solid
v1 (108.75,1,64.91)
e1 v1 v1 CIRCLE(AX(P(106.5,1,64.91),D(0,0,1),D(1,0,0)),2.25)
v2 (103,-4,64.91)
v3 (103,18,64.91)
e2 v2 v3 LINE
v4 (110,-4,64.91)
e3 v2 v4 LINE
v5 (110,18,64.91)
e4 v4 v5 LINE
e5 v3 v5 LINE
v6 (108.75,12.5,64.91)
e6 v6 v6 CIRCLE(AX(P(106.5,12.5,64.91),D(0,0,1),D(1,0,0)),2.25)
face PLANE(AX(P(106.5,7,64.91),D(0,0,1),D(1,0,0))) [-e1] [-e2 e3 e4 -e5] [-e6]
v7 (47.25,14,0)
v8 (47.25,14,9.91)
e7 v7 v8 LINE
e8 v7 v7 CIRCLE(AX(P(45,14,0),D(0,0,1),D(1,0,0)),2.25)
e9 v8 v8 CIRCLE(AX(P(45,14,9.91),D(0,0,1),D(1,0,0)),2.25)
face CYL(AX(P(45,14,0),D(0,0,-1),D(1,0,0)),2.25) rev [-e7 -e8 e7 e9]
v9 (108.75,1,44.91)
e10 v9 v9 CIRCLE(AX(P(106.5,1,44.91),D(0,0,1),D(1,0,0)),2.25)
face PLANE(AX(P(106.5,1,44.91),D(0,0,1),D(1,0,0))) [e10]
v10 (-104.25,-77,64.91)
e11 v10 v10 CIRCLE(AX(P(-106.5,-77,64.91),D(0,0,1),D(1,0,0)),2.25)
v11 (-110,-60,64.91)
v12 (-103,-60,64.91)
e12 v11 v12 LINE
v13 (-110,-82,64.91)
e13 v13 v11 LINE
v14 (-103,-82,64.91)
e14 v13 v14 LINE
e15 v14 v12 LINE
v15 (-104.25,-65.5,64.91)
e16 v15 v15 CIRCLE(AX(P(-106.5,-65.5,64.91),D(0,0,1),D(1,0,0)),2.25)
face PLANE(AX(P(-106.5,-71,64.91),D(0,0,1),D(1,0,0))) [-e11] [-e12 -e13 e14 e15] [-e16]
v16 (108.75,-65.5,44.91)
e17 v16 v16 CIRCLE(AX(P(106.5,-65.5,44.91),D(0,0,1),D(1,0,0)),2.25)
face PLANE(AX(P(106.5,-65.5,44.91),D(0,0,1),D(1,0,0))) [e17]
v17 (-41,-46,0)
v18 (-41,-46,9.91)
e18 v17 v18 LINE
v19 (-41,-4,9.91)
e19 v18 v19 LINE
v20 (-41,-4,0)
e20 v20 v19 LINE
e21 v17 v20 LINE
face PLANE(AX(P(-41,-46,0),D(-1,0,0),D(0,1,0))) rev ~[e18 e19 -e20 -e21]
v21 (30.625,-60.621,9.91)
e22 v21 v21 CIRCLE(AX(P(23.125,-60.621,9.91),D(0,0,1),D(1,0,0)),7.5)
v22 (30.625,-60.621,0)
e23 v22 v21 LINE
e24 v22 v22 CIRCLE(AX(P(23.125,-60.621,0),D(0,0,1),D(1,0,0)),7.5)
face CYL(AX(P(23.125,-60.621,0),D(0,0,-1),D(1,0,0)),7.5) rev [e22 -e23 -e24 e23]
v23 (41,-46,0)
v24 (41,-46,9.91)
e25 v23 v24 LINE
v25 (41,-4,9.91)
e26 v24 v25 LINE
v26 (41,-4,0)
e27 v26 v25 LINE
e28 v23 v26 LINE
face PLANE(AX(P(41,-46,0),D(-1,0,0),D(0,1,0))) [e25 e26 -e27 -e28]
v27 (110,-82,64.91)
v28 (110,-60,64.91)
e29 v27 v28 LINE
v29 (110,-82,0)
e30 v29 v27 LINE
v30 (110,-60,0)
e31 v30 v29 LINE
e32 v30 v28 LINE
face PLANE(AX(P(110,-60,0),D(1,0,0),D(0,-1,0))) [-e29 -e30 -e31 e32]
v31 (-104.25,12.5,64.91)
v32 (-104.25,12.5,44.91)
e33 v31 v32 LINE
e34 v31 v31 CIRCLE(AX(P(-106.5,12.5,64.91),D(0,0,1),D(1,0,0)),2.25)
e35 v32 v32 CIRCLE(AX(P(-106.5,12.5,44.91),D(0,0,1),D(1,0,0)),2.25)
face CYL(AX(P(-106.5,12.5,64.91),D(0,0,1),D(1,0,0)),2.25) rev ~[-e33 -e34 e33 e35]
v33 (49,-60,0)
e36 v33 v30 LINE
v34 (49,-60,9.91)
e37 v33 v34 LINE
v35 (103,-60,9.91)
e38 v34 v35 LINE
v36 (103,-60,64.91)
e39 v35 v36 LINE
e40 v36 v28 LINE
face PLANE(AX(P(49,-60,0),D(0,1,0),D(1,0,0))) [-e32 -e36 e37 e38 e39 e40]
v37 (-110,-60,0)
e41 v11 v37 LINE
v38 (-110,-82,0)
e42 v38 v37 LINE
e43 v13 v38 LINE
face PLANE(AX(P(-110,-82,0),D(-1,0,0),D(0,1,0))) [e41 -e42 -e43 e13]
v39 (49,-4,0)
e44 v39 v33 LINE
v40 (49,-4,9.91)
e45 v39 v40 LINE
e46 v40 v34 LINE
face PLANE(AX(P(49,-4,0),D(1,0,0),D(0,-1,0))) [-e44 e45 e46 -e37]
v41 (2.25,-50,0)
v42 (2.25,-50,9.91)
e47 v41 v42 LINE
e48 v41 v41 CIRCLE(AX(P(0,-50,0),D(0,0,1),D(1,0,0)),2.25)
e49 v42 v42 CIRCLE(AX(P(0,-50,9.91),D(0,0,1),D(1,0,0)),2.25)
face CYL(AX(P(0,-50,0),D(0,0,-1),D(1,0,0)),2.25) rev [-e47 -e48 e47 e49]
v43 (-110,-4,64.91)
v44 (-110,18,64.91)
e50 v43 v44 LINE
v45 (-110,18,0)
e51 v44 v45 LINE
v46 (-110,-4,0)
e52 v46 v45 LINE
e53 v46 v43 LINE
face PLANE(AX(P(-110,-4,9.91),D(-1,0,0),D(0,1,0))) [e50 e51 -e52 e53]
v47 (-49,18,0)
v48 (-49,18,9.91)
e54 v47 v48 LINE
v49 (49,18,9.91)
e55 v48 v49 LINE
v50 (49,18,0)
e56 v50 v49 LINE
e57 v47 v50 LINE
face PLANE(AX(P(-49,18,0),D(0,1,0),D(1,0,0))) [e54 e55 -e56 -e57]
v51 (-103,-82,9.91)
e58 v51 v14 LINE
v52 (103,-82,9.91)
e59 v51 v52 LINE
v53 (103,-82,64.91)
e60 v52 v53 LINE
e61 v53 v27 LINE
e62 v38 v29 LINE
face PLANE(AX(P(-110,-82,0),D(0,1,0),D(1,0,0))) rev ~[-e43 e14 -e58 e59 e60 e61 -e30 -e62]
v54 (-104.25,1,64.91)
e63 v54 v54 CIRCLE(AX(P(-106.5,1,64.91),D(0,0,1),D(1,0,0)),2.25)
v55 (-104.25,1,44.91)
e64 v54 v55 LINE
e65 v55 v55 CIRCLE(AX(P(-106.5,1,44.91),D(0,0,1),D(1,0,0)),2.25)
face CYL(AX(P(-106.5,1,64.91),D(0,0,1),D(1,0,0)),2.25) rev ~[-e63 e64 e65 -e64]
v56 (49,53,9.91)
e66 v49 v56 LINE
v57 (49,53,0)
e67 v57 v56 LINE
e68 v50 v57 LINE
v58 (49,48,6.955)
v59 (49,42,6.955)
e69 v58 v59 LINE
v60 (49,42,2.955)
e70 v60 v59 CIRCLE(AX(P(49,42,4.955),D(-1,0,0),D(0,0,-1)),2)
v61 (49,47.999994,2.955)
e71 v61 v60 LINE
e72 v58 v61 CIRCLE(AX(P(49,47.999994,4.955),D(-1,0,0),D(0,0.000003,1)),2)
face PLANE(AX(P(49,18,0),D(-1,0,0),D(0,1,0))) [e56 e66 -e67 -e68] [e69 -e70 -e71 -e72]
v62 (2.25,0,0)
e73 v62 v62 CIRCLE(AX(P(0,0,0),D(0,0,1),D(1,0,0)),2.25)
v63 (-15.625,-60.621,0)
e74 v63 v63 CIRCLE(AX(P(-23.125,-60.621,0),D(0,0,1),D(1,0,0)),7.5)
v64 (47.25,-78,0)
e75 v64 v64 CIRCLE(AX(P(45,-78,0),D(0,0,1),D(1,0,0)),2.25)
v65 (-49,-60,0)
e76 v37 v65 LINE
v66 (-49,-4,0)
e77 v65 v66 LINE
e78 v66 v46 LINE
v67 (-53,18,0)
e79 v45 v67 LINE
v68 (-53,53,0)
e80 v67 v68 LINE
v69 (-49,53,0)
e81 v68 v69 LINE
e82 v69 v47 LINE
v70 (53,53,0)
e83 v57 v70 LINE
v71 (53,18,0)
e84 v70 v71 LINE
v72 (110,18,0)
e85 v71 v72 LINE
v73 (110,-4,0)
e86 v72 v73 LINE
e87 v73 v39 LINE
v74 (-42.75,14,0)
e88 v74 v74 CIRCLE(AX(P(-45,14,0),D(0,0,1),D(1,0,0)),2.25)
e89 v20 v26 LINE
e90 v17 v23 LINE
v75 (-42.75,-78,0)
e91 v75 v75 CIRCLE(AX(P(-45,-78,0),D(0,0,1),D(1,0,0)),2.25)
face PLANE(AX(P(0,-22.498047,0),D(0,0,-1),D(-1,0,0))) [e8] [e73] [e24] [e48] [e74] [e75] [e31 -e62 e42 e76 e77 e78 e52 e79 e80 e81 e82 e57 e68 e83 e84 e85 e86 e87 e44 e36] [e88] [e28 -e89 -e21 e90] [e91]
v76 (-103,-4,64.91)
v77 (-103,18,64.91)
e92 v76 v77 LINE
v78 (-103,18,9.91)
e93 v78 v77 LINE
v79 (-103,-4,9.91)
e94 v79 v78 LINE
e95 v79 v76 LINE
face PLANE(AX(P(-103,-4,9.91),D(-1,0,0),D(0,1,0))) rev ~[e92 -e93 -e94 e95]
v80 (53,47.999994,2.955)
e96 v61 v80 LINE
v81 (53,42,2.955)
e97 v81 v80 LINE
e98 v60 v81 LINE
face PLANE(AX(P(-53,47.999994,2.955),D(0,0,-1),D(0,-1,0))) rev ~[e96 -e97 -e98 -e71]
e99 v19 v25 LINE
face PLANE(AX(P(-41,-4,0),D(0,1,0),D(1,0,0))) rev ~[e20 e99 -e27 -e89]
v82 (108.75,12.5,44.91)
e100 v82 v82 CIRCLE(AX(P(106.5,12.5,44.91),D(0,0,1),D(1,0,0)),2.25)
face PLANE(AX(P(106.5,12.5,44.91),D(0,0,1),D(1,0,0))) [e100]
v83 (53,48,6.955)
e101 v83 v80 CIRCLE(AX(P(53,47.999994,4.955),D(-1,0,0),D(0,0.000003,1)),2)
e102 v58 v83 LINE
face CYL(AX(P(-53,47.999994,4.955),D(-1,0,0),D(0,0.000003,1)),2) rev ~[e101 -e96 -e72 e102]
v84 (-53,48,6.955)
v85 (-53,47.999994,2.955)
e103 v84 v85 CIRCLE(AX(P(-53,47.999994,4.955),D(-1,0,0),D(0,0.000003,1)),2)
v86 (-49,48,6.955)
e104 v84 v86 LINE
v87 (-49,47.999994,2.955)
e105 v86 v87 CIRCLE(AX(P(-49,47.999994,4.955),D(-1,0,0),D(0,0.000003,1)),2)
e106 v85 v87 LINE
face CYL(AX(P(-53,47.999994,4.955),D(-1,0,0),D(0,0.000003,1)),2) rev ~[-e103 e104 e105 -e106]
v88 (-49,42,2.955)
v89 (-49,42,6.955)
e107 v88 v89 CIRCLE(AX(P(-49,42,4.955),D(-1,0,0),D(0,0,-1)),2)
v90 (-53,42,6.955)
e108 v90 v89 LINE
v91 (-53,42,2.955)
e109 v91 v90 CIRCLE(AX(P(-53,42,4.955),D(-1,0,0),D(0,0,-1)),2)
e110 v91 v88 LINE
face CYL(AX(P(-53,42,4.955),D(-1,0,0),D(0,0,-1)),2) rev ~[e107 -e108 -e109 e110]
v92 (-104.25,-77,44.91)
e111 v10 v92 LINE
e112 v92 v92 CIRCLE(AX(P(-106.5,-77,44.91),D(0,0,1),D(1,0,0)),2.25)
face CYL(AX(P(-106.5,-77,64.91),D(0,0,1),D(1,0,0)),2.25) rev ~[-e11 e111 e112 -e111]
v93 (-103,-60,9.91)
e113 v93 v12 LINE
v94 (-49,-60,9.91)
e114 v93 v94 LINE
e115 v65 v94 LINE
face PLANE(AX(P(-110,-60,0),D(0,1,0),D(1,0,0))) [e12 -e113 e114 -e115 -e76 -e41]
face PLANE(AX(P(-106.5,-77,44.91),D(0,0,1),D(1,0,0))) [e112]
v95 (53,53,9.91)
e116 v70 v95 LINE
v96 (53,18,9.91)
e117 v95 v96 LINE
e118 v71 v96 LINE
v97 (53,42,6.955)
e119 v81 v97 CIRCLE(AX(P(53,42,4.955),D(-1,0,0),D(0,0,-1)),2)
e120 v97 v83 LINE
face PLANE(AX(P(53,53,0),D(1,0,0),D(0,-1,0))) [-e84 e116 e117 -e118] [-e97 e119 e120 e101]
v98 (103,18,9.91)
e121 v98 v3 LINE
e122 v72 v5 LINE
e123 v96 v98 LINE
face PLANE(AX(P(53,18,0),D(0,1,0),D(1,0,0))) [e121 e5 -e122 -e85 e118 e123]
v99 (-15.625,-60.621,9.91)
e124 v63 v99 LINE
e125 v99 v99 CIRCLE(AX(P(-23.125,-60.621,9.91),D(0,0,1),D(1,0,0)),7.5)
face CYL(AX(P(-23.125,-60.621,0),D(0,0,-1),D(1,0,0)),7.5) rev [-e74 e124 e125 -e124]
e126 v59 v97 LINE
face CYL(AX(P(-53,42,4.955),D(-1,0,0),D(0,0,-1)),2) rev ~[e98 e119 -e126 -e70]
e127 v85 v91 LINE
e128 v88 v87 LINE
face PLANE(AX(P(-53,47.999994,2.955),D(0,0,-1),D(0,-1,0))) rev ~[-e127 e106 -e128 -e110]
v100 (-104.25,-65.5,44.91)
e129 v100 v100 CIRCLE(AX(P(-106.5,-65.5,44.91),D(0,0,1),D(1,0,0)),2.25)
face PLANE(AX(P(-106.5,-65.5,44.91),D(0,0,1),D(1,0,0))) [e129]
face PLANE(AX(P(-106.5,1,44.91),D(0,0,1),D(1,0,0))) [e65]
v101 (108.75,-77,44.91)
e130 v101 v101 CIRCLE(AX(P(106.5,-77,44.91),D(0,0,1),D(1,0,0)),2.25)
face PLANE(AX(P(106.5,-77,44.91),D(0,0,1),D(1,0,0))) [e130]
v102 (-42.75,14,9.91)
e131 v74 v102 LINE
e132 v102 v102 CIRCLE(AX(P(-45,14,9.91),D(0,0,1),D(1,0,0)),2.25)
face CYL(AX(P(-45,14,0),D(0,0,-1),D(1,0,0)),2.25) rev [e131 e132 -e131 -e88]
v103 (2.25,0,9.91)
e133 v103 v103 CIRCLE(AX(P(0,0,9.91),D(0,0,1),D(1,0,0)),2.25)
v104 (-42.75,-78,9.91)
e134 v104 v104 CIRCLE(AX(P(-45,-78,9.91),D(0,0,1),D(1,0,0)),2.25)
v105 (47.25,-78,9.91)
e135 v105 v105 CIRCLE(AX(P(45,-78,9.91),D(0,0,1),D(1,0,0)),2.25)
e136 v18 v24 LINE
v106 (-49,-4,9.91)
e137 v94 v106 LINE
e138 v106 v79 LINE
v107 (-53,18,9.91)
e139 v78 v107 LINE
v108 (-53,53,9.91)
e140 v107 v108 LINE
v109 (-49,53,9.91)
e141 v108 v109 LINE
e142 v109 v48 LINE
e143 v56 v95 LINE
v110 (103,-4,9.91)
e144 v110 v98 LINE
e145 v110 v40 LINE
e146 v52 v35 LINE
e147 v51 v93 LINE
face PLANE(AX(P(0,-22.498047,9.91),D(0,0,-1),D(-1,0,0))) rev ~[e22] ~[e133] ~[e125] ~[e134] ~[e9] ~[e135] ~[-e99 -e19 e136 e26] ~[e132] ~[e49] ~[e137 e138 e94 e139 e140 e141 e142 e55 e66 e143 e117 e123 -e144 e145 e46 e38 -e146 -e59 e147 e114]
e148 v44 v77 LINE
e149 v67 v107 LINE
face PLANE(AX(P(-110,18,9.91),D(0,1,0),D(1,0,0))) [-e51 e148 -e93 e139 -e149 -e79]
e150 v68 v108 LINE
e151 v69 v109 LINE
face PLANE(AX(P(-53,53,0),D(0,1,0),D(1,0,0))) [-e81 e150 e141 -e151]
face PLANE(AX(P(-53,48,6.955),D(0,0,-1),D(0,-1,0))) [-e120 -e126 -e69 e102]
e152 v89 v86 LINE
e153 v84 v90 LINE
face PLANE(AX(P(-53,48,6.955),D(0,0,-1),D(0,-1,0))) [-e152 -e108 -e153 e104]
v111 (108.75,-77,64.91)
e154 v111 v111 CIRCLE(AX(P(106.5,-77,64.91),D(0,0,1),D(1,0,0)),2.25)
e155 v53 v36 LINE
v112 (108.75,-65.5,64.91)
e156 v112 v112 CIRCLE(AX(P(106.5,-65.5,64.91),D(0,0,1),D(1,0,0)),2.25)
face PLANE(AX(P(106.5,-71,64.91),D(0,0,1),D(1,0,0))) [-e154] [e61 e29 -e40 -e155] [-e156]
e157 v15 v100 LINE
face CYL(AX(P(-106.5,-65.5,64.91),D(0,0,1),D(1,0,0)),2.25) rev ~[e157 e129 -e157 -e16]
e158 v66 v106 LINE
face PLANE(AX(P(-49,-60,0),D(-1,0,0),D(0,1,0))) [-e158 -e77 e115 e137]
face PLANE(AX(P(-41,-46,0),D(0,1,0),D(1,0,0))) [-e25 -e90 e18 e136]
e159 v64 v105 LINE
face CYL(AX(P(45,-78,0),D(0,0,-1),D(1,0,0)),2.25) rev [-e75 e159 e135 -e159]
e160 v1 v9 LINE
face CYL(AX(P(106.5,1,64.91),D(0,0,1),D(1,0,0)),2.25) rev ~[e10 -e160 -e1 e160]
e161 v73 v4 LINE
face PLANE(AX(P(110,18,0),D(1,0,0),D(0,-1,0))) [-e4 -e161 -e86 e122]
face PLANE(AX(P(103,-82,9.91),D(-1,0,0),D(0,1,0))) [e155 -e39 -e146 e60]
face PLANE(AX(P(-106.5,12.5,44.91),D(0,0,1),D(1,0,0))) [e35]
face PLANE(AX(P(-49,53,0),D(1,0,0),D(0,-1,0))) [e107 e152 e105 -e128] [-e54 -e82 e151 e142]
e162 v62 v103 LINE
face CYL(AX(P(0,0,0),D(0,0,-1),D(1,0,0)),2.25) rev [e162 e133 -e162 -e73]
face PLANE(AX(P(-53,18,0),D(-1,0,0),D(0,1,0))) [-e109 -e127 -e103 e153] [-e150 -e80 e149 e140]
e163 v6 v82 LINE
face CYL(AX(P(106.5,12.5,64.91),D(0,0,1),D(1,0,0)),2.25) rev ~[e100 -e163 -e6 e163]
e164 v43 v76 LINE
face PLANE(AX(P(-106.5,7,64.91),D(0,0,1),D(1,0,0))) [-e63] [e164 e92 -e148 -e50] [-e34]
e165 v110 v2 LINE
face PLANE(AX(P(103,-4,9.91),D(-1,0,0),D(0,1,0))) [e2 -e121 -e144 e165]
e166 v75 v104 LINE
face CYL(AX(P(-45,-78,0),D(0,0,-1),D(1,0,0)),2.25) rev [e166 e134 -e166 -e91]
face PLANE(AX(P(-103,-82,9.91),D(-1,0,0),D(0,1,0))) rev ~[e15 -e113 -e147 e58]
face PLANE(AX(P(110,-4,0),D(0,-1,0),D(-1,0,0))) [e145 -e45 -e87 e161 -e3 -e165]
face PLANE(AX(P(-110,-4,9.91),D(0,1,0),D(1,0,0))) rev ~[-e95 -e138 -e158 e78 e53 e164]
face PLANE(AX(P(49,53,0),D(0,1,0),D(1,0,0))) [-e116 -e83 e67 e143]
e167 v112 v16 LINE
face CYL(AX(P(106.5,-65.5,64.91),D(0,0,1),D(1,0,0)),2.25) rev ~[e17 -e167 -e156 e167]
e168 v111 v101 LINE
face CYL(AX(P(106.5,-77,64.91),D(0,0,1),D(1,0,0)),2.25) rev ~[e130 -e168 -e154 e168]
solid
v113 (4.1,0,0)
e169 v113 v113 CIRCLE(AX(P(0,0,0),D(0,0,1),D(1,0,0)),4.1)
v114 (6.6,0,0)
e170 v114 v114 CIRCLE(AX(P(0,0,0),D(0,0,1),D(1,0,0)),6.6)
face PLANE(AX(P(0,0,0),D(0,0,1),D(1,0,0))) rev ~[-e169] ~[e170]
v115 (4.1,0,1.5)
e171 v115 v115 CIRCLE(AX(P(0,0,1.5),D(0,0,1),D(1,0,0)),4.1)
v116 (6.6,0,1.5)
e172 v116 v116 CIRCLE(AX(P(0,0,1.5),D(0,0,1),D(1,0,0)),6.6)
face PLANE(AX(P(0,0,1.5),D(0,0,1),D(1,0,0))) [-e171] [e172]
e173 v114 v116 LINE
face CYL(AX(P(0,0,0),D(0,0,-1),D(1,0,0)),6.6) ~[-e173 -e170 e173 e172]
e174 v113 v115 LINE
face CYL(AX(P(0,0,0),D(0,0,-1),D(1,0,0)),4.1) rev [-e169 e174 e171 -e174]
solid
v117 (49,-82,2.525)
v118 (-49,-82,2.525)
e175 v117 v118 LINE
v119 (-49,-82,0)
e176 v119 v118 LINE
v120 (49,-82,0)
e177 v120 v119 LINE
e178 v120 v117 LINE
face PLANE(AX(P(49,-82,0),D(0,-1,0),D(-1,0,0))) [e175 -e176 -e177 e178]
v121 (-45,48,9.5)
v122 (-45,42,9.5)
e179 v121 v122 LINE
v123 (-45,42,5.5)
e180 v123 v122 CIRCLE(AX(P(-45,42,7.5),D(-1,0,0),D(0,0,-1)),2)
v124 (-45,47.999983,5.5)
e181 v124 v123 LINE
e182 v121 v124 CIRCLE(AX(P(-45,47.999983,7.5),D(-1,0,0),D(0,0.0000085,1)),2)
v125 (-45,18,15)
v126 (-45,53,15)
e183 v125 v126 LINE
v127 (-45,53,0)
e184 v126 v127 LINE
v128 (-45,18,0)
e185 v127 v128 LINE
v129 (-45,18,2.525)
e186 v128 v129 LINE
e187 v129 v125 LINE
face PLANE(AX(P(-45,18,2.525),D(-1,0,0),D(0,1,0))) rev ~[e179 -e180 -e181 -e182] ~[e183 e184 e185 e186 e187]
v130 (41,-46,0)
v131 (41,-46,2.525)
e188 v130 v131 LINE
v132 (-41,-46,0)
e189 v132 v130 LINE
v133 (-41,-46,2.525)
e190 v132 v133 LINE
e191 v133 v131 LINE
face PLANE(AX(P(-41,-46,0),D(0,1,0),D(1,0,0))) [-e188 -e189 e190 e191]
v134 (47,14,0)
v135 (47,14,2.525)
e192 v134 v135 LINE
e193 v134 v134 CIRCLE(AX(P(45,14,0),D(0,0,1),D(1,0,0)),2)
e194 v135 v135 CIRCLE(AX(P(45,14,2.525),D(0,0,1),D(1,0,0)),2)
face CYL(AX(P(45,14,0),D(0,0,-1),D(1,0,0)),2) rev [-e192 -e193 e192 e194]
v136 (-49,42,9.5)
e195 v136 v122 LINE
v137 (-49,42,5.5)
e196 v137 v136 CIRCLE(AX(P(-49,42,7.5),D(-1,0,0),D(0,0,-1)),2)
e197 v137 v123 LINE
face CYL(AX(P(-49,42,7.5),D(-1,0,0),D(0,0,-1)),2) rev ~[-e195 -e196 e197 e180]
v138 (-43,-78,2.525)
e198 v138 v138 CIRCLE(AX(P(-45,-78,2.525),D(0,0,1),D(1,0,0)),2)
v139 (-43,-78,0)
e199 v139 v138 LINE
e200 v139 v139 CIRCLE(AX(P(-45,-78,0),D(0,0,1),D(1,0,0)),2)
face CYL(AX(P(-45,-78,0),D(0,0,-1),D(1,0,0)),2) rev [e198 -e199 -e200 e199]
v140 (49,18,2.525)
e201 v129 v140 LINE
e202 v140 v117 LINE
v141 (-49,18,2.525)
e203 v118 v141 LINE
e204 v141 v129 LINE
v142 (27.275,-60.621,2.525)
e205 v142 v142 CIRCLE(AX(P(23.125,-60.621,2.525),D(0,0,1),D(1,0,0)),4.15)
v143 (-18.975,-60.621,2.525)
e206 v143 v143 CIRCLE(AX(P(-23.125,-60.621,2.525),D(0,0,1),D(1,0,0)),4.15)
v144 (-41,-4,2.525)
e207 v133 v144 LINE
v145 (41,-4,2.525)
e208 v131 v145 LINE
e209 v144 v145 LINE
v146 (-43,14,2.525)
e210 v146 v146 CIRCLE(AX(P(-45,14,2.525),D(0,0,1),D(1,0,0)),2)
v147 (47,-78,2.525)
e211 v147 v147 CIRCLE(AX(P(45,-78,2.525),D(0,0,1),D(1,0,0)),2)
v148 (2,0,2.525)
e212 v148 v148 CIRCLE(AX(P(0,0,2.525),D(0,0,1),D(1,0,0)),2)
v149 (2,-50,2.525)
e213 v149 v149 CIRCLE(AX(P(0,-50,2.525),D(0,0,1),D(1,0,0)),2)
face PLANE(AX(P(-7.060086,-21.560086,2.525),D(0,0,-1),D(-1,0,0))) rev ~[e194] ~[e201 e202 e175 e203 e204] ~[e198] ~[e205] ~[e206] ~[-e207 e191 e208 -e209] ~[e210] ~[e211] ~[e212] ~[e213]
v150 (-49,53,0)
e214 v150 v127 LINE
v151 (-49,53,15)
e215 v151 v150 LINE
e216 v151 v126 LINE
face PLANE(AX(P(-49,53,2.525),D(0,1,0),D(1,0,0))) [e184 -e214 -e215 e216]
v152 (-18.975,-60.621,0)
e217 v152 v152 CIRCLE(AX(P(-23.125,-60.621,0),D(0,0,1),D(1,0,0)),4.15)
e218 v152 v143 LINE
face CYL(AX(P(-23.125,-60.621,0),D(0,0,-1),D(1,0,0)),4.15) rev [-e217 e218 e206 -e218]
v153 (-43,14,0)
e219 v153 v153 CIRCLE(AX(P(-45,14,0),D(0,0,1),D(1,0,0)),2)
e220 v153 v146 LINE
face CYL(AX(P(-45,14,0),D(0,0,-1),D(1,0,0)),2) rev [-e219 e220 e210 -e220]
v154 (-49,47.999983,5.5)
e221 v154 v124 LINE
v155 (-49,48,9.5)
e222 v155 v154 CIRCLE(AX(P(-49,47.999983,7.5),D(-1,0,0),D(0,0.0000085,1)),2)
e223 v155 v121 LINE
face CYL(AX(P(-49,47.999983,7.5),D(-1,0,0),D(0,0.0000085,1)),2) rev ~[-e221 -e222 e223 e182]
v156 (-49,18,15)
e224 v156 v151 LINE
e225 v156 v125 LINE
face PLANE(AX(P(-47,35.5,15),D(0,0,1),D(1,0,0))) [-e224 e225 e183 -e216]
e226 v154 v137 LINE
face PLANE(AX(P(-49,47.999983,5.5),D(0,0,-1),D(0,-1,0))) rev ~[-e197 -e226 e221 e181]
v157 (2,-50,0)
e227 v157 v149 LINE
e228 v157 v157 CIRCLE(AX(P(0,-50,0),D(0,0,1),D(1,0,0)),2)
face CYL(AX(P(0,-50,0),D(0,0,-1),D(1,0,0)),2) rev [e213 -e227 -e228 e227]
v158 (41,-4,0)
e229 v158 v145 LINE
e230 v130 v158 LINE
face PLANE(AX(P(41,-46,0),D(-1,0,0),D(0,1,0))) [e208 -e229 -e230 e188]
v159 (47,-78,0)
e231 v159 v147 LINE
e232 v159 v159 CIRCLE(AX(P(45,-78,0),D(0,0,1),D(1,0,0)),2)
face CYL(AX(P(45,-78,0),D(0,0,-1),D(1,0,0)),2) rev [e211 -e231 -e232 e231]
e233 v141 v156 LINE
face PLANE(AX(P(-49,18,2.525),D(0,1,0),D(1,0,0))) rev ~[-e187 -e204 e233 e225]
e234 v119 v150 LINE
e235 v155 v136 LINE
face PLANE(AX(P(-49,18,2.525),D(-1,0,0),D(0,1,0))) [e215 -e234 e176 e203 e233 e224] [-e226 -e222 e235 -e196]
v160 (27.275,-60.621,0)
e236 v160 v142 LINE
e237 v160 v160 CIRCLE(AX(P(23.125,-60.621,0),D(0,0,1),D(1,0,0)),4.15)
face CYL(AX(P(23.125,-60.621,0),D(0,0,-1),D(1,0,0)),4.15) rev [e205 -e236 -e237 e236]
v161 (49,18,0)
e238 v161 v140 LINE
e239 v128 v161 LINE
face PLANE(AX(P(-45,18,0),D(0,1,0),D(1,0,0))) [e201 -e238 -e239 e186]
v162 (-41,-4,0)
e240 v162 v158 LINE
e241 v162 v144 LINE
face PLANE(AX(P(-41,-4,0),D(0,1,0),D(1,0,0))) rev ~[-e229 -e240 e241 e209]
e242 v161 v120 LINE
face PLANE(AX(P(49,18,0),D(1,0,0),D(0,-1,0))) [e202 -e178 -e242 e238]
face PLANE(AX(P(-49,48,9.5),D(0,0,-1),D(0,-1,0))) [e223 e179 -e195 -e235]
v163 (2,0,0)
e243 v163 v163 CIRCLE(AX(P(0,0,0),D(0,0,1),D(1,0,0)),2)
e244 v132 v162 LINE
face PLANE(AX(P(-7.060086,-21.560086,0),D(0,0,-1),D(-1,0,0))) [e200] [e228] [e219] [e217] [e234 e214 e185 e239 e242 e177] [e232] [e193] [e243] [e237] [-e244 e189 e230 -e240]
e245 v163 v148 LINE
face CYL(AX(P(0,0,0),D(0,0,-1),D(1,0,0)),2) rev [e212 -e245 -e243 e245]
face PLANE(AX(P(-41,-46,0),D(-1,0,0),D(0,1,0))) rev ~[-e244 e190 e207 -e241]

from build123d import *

# Parameters (mm, degrees)
SKETCH_R        = 4.15
SKETCH_R_2      = 2
SKETCH_W        = 82
SKETCH_H        = 42
PAD_DEPTH       = 2.525
SKETCH003_W     = 4
SKETCH003_H     = 35
PAD002_DEPTH    = 12.475
POCKET001_DEPTH = 5
SKETCH005_R     = 6.6
SKETCH005_R_2   = 4.1
PAD003_DEPTH    = 1.5
SKETCH006_R     = 7.5
SKETCH006_R_2   = 2.25
SKETCH006_W     = 82
SKETCH006_H     = 42
PAD004_DEPTH    = 9.91
POCKET_DEPTH    = 163.001
SKETCH008_W     = 7
SKETCH008_H     = 22
PAD005_DEPTH    = 55
SKETCH009_R     = 2.25
POCKET002_DEPTH = 20


with BuildPart() as bodymountbody:
    # Sketch → Pad (new body)
    with BuildSketch(Plane.XY):
        Polygon((-49, 53), (-45, 53), (-45, 18), (49, 18), (49, -82), (-49, -82), align=None)
        with Locations((-23.125, -60.621)):
            Circle(SKETCH_R, mode=Mode.SUBTRACT)
        with Locations((23.125, -60.621)):
            Circle(SKETCH_R, mode=Mode.SUBTRACT)
        with Locations((-45, 14)):
            Circle(SKETCH_R_2, mode=Mode.SUBTRACT)
        with Locations((45, 14)):
            Circle(SKETCH_R_2, mode=Mode.SUBTRACT)
        with Locations((45, -78)):
            Circle(SKETCH_R_2, mode=Mode.SUBTRACT)
        with Locations((-45, -78)):
            Circle(SKETCH_R_2, mode=Mode.SUBTRACT)
        Circle(SKETCH_R_2, mode=Mode.SUBTRACT)
        with Locations((0, -50)):
            Circle(SKETCH_R_2, mode=Mode.SUBTRACT)
        with Locations((0, -25)):
            Rectangle(SKETCH_W, SKETCH_H, mode=Mode.SUBTRACT)
    extrude(amount=PAD_DEPTH)

    # Sketch003 → Pad002 (join)
    with BuildSketch(Plane.XY.offset(2.525)):
        with Locations((-47, 35.5)):
            Rectangle(SKETCH003_W, SKETCH003_H)
    extrude(amount=PAD002_DEPTH)

    # Sketch004 (on Face8 of Pad002) → Pocket001 (cut)
    with BuildSketch(Plane(origin=(-49, 0, 0), x_dir=(0, -1, 0), z_dir=(-1, 0, 0))):
        with BuildLine():
            ThreePointArc((-48, 9.5), (-49.999983, 7.499991), (-47.999983, 5.5))
            Line((-47.999983, 5.5), (-42, 5.5))
            ThreePointArc((-42, 5.5), (-40, 7.5), (-42, 9.5))
            Line((-48, 9.5), (-42, 9.5))
        make_face()
    extrude(amount=-POCKET001_DEPTH, mode=Mode.SUBTRACT)


with BuildPart() as bearingwasherbody:
    # Sketch005 → Pad003 (new body)
    with BuildSketch(Plane.XY):
        Circle(SKETCH005_R)
        Circle(SKETCH005_R_2, mode=Mode.SUBTRACT)
    extrude(amount=PAD003_DEPTH)


with BuildPart() as spacermountbody:
    # Sketch006 → Pad004 (new body)
    with BuildSketch(Plane.XY):
        Polygon((49, -82), (-49, -82), (-110, -82), (-110, -60), (-49, -60), (-49, -4), (-110, -4), (-110, 18), (-53, 18), (-53, 53), (-49, 53), (-49, 18), (49, 18), (49, 53), (53, 53), (53, 18), (110, 18), (110, -4), (49, -4), (49, -60), (110, -60), (110, -82), align=None)
        with Locations((-23.125, -60.621)):
            Circle(SKETCH006_R, mode=Mode.SUBTRACT)
        with Locations((23.125, -60.621)):
            Circle(SKETCH006_R, mode=Mode.SUBTRACT)
        with Locations((-45, 14)):
            Circle(SKETCH006_R_2, mode=Mode.SUBTRACT)
        with Locations((45, 14)):
            Circle(SKETCH006_R_2, mode=Mode.SUBTRACT)
        with Locations((45, -78)):
            Circle(SKETCH006_R_2, mode=Mode.SUBTRACT)
        with Locations((-45, -78)):
            Circle(SKETCH006_R_2, mode=Mode.SUBTRACT)
        Circle(SKETCH006_R_2, mode=Mode.SUBTRACT)
        with Locations((0, -50)):
            Circle(SKETCH006_R_2, mode=Mode.SUBTRACT)
        with Locations((0, -25)):
            Rectangle(SKETCH006_W, SKETCH006_H, mode=Mode.SUBTRACT)
    extrude(amount=PAD004_DEPTH)

    # Sketch007 (on Face10 of Pad004) → Pocket (cut, through all)
    with BuildSketch(Plane(origin=(-53, 0, 0), x_dir=(0, -1, 0), z_dir=(-1, 0, 0))):
        with BuildLine():
            ThreePointArc((-48, 6.955), (-49.999994, 4.954997), (-47.999994, 2.955))
            Line((-47.999994, 2.955), (-42, 2.955))
            ThreePointArc((-42, 2.955), (-40, 4.955), (-42, 6.955))
            Line((-48, 6.955), (-42, 6.955))
        make_face()
    extrude(amount=-POCKET_DEPTH, mode=Mode.SUBTRACT)

    # Sketch008 (on Face5 of Pocket) → Pad005 (join)
    with BuildSketch(Plane.XY.offset(9.91)):
        with Locations((-106.5, 7)):
            Rectangle(SKETCH008_W, SKETCH008_H)
        with Locations((106.5, 7)):
            Rectangle(SKETCH008_W, SKETCH008_H)
        with Locations((-106.5, -71)):
            Rectangle(SKETCH008_W, SKETCH008_H)
        with Locations((106.5, -71)):
            Rectangle(SKETCH008_W, SKETCH008_H)
    extrude(amount=PAD005_DEPTH)

    # Sketch009 (on Face64 of Pad005) → Pocket002 (cut)
    with BuildSketch(Plane.XY.offset(64.91)):
        with Locations((-106.5, 12.5)):
            Circle(SKETCH009_R)
        with Locations((-106.5, 1)):
            Circle(SKETCH009_R)
        with Locations((106.5, 12.5)):
            Circle(SKETCH009_R)
        with Locations((106.5, 1)):
            Circle(SKETCH009_R)
        with Locations((106.5, -65.5)):
            Circle(SKETCH009_R)
        with Locations((106.5, -77)):
            Circle(SKETCH009_R)
        with Locations((-106.5, -65.5)):
            Circle(SKETCH009_R)
        with Locations((-106.5, -77)):
            Circle(SKETCH009_R)
    extrude(amount=-POCKET002_DEPTH, mode=Mode.SUBTRACT)


solid = Compound([bodymountbody.part, bearingwasherbody.part, spacermountbody.part])
